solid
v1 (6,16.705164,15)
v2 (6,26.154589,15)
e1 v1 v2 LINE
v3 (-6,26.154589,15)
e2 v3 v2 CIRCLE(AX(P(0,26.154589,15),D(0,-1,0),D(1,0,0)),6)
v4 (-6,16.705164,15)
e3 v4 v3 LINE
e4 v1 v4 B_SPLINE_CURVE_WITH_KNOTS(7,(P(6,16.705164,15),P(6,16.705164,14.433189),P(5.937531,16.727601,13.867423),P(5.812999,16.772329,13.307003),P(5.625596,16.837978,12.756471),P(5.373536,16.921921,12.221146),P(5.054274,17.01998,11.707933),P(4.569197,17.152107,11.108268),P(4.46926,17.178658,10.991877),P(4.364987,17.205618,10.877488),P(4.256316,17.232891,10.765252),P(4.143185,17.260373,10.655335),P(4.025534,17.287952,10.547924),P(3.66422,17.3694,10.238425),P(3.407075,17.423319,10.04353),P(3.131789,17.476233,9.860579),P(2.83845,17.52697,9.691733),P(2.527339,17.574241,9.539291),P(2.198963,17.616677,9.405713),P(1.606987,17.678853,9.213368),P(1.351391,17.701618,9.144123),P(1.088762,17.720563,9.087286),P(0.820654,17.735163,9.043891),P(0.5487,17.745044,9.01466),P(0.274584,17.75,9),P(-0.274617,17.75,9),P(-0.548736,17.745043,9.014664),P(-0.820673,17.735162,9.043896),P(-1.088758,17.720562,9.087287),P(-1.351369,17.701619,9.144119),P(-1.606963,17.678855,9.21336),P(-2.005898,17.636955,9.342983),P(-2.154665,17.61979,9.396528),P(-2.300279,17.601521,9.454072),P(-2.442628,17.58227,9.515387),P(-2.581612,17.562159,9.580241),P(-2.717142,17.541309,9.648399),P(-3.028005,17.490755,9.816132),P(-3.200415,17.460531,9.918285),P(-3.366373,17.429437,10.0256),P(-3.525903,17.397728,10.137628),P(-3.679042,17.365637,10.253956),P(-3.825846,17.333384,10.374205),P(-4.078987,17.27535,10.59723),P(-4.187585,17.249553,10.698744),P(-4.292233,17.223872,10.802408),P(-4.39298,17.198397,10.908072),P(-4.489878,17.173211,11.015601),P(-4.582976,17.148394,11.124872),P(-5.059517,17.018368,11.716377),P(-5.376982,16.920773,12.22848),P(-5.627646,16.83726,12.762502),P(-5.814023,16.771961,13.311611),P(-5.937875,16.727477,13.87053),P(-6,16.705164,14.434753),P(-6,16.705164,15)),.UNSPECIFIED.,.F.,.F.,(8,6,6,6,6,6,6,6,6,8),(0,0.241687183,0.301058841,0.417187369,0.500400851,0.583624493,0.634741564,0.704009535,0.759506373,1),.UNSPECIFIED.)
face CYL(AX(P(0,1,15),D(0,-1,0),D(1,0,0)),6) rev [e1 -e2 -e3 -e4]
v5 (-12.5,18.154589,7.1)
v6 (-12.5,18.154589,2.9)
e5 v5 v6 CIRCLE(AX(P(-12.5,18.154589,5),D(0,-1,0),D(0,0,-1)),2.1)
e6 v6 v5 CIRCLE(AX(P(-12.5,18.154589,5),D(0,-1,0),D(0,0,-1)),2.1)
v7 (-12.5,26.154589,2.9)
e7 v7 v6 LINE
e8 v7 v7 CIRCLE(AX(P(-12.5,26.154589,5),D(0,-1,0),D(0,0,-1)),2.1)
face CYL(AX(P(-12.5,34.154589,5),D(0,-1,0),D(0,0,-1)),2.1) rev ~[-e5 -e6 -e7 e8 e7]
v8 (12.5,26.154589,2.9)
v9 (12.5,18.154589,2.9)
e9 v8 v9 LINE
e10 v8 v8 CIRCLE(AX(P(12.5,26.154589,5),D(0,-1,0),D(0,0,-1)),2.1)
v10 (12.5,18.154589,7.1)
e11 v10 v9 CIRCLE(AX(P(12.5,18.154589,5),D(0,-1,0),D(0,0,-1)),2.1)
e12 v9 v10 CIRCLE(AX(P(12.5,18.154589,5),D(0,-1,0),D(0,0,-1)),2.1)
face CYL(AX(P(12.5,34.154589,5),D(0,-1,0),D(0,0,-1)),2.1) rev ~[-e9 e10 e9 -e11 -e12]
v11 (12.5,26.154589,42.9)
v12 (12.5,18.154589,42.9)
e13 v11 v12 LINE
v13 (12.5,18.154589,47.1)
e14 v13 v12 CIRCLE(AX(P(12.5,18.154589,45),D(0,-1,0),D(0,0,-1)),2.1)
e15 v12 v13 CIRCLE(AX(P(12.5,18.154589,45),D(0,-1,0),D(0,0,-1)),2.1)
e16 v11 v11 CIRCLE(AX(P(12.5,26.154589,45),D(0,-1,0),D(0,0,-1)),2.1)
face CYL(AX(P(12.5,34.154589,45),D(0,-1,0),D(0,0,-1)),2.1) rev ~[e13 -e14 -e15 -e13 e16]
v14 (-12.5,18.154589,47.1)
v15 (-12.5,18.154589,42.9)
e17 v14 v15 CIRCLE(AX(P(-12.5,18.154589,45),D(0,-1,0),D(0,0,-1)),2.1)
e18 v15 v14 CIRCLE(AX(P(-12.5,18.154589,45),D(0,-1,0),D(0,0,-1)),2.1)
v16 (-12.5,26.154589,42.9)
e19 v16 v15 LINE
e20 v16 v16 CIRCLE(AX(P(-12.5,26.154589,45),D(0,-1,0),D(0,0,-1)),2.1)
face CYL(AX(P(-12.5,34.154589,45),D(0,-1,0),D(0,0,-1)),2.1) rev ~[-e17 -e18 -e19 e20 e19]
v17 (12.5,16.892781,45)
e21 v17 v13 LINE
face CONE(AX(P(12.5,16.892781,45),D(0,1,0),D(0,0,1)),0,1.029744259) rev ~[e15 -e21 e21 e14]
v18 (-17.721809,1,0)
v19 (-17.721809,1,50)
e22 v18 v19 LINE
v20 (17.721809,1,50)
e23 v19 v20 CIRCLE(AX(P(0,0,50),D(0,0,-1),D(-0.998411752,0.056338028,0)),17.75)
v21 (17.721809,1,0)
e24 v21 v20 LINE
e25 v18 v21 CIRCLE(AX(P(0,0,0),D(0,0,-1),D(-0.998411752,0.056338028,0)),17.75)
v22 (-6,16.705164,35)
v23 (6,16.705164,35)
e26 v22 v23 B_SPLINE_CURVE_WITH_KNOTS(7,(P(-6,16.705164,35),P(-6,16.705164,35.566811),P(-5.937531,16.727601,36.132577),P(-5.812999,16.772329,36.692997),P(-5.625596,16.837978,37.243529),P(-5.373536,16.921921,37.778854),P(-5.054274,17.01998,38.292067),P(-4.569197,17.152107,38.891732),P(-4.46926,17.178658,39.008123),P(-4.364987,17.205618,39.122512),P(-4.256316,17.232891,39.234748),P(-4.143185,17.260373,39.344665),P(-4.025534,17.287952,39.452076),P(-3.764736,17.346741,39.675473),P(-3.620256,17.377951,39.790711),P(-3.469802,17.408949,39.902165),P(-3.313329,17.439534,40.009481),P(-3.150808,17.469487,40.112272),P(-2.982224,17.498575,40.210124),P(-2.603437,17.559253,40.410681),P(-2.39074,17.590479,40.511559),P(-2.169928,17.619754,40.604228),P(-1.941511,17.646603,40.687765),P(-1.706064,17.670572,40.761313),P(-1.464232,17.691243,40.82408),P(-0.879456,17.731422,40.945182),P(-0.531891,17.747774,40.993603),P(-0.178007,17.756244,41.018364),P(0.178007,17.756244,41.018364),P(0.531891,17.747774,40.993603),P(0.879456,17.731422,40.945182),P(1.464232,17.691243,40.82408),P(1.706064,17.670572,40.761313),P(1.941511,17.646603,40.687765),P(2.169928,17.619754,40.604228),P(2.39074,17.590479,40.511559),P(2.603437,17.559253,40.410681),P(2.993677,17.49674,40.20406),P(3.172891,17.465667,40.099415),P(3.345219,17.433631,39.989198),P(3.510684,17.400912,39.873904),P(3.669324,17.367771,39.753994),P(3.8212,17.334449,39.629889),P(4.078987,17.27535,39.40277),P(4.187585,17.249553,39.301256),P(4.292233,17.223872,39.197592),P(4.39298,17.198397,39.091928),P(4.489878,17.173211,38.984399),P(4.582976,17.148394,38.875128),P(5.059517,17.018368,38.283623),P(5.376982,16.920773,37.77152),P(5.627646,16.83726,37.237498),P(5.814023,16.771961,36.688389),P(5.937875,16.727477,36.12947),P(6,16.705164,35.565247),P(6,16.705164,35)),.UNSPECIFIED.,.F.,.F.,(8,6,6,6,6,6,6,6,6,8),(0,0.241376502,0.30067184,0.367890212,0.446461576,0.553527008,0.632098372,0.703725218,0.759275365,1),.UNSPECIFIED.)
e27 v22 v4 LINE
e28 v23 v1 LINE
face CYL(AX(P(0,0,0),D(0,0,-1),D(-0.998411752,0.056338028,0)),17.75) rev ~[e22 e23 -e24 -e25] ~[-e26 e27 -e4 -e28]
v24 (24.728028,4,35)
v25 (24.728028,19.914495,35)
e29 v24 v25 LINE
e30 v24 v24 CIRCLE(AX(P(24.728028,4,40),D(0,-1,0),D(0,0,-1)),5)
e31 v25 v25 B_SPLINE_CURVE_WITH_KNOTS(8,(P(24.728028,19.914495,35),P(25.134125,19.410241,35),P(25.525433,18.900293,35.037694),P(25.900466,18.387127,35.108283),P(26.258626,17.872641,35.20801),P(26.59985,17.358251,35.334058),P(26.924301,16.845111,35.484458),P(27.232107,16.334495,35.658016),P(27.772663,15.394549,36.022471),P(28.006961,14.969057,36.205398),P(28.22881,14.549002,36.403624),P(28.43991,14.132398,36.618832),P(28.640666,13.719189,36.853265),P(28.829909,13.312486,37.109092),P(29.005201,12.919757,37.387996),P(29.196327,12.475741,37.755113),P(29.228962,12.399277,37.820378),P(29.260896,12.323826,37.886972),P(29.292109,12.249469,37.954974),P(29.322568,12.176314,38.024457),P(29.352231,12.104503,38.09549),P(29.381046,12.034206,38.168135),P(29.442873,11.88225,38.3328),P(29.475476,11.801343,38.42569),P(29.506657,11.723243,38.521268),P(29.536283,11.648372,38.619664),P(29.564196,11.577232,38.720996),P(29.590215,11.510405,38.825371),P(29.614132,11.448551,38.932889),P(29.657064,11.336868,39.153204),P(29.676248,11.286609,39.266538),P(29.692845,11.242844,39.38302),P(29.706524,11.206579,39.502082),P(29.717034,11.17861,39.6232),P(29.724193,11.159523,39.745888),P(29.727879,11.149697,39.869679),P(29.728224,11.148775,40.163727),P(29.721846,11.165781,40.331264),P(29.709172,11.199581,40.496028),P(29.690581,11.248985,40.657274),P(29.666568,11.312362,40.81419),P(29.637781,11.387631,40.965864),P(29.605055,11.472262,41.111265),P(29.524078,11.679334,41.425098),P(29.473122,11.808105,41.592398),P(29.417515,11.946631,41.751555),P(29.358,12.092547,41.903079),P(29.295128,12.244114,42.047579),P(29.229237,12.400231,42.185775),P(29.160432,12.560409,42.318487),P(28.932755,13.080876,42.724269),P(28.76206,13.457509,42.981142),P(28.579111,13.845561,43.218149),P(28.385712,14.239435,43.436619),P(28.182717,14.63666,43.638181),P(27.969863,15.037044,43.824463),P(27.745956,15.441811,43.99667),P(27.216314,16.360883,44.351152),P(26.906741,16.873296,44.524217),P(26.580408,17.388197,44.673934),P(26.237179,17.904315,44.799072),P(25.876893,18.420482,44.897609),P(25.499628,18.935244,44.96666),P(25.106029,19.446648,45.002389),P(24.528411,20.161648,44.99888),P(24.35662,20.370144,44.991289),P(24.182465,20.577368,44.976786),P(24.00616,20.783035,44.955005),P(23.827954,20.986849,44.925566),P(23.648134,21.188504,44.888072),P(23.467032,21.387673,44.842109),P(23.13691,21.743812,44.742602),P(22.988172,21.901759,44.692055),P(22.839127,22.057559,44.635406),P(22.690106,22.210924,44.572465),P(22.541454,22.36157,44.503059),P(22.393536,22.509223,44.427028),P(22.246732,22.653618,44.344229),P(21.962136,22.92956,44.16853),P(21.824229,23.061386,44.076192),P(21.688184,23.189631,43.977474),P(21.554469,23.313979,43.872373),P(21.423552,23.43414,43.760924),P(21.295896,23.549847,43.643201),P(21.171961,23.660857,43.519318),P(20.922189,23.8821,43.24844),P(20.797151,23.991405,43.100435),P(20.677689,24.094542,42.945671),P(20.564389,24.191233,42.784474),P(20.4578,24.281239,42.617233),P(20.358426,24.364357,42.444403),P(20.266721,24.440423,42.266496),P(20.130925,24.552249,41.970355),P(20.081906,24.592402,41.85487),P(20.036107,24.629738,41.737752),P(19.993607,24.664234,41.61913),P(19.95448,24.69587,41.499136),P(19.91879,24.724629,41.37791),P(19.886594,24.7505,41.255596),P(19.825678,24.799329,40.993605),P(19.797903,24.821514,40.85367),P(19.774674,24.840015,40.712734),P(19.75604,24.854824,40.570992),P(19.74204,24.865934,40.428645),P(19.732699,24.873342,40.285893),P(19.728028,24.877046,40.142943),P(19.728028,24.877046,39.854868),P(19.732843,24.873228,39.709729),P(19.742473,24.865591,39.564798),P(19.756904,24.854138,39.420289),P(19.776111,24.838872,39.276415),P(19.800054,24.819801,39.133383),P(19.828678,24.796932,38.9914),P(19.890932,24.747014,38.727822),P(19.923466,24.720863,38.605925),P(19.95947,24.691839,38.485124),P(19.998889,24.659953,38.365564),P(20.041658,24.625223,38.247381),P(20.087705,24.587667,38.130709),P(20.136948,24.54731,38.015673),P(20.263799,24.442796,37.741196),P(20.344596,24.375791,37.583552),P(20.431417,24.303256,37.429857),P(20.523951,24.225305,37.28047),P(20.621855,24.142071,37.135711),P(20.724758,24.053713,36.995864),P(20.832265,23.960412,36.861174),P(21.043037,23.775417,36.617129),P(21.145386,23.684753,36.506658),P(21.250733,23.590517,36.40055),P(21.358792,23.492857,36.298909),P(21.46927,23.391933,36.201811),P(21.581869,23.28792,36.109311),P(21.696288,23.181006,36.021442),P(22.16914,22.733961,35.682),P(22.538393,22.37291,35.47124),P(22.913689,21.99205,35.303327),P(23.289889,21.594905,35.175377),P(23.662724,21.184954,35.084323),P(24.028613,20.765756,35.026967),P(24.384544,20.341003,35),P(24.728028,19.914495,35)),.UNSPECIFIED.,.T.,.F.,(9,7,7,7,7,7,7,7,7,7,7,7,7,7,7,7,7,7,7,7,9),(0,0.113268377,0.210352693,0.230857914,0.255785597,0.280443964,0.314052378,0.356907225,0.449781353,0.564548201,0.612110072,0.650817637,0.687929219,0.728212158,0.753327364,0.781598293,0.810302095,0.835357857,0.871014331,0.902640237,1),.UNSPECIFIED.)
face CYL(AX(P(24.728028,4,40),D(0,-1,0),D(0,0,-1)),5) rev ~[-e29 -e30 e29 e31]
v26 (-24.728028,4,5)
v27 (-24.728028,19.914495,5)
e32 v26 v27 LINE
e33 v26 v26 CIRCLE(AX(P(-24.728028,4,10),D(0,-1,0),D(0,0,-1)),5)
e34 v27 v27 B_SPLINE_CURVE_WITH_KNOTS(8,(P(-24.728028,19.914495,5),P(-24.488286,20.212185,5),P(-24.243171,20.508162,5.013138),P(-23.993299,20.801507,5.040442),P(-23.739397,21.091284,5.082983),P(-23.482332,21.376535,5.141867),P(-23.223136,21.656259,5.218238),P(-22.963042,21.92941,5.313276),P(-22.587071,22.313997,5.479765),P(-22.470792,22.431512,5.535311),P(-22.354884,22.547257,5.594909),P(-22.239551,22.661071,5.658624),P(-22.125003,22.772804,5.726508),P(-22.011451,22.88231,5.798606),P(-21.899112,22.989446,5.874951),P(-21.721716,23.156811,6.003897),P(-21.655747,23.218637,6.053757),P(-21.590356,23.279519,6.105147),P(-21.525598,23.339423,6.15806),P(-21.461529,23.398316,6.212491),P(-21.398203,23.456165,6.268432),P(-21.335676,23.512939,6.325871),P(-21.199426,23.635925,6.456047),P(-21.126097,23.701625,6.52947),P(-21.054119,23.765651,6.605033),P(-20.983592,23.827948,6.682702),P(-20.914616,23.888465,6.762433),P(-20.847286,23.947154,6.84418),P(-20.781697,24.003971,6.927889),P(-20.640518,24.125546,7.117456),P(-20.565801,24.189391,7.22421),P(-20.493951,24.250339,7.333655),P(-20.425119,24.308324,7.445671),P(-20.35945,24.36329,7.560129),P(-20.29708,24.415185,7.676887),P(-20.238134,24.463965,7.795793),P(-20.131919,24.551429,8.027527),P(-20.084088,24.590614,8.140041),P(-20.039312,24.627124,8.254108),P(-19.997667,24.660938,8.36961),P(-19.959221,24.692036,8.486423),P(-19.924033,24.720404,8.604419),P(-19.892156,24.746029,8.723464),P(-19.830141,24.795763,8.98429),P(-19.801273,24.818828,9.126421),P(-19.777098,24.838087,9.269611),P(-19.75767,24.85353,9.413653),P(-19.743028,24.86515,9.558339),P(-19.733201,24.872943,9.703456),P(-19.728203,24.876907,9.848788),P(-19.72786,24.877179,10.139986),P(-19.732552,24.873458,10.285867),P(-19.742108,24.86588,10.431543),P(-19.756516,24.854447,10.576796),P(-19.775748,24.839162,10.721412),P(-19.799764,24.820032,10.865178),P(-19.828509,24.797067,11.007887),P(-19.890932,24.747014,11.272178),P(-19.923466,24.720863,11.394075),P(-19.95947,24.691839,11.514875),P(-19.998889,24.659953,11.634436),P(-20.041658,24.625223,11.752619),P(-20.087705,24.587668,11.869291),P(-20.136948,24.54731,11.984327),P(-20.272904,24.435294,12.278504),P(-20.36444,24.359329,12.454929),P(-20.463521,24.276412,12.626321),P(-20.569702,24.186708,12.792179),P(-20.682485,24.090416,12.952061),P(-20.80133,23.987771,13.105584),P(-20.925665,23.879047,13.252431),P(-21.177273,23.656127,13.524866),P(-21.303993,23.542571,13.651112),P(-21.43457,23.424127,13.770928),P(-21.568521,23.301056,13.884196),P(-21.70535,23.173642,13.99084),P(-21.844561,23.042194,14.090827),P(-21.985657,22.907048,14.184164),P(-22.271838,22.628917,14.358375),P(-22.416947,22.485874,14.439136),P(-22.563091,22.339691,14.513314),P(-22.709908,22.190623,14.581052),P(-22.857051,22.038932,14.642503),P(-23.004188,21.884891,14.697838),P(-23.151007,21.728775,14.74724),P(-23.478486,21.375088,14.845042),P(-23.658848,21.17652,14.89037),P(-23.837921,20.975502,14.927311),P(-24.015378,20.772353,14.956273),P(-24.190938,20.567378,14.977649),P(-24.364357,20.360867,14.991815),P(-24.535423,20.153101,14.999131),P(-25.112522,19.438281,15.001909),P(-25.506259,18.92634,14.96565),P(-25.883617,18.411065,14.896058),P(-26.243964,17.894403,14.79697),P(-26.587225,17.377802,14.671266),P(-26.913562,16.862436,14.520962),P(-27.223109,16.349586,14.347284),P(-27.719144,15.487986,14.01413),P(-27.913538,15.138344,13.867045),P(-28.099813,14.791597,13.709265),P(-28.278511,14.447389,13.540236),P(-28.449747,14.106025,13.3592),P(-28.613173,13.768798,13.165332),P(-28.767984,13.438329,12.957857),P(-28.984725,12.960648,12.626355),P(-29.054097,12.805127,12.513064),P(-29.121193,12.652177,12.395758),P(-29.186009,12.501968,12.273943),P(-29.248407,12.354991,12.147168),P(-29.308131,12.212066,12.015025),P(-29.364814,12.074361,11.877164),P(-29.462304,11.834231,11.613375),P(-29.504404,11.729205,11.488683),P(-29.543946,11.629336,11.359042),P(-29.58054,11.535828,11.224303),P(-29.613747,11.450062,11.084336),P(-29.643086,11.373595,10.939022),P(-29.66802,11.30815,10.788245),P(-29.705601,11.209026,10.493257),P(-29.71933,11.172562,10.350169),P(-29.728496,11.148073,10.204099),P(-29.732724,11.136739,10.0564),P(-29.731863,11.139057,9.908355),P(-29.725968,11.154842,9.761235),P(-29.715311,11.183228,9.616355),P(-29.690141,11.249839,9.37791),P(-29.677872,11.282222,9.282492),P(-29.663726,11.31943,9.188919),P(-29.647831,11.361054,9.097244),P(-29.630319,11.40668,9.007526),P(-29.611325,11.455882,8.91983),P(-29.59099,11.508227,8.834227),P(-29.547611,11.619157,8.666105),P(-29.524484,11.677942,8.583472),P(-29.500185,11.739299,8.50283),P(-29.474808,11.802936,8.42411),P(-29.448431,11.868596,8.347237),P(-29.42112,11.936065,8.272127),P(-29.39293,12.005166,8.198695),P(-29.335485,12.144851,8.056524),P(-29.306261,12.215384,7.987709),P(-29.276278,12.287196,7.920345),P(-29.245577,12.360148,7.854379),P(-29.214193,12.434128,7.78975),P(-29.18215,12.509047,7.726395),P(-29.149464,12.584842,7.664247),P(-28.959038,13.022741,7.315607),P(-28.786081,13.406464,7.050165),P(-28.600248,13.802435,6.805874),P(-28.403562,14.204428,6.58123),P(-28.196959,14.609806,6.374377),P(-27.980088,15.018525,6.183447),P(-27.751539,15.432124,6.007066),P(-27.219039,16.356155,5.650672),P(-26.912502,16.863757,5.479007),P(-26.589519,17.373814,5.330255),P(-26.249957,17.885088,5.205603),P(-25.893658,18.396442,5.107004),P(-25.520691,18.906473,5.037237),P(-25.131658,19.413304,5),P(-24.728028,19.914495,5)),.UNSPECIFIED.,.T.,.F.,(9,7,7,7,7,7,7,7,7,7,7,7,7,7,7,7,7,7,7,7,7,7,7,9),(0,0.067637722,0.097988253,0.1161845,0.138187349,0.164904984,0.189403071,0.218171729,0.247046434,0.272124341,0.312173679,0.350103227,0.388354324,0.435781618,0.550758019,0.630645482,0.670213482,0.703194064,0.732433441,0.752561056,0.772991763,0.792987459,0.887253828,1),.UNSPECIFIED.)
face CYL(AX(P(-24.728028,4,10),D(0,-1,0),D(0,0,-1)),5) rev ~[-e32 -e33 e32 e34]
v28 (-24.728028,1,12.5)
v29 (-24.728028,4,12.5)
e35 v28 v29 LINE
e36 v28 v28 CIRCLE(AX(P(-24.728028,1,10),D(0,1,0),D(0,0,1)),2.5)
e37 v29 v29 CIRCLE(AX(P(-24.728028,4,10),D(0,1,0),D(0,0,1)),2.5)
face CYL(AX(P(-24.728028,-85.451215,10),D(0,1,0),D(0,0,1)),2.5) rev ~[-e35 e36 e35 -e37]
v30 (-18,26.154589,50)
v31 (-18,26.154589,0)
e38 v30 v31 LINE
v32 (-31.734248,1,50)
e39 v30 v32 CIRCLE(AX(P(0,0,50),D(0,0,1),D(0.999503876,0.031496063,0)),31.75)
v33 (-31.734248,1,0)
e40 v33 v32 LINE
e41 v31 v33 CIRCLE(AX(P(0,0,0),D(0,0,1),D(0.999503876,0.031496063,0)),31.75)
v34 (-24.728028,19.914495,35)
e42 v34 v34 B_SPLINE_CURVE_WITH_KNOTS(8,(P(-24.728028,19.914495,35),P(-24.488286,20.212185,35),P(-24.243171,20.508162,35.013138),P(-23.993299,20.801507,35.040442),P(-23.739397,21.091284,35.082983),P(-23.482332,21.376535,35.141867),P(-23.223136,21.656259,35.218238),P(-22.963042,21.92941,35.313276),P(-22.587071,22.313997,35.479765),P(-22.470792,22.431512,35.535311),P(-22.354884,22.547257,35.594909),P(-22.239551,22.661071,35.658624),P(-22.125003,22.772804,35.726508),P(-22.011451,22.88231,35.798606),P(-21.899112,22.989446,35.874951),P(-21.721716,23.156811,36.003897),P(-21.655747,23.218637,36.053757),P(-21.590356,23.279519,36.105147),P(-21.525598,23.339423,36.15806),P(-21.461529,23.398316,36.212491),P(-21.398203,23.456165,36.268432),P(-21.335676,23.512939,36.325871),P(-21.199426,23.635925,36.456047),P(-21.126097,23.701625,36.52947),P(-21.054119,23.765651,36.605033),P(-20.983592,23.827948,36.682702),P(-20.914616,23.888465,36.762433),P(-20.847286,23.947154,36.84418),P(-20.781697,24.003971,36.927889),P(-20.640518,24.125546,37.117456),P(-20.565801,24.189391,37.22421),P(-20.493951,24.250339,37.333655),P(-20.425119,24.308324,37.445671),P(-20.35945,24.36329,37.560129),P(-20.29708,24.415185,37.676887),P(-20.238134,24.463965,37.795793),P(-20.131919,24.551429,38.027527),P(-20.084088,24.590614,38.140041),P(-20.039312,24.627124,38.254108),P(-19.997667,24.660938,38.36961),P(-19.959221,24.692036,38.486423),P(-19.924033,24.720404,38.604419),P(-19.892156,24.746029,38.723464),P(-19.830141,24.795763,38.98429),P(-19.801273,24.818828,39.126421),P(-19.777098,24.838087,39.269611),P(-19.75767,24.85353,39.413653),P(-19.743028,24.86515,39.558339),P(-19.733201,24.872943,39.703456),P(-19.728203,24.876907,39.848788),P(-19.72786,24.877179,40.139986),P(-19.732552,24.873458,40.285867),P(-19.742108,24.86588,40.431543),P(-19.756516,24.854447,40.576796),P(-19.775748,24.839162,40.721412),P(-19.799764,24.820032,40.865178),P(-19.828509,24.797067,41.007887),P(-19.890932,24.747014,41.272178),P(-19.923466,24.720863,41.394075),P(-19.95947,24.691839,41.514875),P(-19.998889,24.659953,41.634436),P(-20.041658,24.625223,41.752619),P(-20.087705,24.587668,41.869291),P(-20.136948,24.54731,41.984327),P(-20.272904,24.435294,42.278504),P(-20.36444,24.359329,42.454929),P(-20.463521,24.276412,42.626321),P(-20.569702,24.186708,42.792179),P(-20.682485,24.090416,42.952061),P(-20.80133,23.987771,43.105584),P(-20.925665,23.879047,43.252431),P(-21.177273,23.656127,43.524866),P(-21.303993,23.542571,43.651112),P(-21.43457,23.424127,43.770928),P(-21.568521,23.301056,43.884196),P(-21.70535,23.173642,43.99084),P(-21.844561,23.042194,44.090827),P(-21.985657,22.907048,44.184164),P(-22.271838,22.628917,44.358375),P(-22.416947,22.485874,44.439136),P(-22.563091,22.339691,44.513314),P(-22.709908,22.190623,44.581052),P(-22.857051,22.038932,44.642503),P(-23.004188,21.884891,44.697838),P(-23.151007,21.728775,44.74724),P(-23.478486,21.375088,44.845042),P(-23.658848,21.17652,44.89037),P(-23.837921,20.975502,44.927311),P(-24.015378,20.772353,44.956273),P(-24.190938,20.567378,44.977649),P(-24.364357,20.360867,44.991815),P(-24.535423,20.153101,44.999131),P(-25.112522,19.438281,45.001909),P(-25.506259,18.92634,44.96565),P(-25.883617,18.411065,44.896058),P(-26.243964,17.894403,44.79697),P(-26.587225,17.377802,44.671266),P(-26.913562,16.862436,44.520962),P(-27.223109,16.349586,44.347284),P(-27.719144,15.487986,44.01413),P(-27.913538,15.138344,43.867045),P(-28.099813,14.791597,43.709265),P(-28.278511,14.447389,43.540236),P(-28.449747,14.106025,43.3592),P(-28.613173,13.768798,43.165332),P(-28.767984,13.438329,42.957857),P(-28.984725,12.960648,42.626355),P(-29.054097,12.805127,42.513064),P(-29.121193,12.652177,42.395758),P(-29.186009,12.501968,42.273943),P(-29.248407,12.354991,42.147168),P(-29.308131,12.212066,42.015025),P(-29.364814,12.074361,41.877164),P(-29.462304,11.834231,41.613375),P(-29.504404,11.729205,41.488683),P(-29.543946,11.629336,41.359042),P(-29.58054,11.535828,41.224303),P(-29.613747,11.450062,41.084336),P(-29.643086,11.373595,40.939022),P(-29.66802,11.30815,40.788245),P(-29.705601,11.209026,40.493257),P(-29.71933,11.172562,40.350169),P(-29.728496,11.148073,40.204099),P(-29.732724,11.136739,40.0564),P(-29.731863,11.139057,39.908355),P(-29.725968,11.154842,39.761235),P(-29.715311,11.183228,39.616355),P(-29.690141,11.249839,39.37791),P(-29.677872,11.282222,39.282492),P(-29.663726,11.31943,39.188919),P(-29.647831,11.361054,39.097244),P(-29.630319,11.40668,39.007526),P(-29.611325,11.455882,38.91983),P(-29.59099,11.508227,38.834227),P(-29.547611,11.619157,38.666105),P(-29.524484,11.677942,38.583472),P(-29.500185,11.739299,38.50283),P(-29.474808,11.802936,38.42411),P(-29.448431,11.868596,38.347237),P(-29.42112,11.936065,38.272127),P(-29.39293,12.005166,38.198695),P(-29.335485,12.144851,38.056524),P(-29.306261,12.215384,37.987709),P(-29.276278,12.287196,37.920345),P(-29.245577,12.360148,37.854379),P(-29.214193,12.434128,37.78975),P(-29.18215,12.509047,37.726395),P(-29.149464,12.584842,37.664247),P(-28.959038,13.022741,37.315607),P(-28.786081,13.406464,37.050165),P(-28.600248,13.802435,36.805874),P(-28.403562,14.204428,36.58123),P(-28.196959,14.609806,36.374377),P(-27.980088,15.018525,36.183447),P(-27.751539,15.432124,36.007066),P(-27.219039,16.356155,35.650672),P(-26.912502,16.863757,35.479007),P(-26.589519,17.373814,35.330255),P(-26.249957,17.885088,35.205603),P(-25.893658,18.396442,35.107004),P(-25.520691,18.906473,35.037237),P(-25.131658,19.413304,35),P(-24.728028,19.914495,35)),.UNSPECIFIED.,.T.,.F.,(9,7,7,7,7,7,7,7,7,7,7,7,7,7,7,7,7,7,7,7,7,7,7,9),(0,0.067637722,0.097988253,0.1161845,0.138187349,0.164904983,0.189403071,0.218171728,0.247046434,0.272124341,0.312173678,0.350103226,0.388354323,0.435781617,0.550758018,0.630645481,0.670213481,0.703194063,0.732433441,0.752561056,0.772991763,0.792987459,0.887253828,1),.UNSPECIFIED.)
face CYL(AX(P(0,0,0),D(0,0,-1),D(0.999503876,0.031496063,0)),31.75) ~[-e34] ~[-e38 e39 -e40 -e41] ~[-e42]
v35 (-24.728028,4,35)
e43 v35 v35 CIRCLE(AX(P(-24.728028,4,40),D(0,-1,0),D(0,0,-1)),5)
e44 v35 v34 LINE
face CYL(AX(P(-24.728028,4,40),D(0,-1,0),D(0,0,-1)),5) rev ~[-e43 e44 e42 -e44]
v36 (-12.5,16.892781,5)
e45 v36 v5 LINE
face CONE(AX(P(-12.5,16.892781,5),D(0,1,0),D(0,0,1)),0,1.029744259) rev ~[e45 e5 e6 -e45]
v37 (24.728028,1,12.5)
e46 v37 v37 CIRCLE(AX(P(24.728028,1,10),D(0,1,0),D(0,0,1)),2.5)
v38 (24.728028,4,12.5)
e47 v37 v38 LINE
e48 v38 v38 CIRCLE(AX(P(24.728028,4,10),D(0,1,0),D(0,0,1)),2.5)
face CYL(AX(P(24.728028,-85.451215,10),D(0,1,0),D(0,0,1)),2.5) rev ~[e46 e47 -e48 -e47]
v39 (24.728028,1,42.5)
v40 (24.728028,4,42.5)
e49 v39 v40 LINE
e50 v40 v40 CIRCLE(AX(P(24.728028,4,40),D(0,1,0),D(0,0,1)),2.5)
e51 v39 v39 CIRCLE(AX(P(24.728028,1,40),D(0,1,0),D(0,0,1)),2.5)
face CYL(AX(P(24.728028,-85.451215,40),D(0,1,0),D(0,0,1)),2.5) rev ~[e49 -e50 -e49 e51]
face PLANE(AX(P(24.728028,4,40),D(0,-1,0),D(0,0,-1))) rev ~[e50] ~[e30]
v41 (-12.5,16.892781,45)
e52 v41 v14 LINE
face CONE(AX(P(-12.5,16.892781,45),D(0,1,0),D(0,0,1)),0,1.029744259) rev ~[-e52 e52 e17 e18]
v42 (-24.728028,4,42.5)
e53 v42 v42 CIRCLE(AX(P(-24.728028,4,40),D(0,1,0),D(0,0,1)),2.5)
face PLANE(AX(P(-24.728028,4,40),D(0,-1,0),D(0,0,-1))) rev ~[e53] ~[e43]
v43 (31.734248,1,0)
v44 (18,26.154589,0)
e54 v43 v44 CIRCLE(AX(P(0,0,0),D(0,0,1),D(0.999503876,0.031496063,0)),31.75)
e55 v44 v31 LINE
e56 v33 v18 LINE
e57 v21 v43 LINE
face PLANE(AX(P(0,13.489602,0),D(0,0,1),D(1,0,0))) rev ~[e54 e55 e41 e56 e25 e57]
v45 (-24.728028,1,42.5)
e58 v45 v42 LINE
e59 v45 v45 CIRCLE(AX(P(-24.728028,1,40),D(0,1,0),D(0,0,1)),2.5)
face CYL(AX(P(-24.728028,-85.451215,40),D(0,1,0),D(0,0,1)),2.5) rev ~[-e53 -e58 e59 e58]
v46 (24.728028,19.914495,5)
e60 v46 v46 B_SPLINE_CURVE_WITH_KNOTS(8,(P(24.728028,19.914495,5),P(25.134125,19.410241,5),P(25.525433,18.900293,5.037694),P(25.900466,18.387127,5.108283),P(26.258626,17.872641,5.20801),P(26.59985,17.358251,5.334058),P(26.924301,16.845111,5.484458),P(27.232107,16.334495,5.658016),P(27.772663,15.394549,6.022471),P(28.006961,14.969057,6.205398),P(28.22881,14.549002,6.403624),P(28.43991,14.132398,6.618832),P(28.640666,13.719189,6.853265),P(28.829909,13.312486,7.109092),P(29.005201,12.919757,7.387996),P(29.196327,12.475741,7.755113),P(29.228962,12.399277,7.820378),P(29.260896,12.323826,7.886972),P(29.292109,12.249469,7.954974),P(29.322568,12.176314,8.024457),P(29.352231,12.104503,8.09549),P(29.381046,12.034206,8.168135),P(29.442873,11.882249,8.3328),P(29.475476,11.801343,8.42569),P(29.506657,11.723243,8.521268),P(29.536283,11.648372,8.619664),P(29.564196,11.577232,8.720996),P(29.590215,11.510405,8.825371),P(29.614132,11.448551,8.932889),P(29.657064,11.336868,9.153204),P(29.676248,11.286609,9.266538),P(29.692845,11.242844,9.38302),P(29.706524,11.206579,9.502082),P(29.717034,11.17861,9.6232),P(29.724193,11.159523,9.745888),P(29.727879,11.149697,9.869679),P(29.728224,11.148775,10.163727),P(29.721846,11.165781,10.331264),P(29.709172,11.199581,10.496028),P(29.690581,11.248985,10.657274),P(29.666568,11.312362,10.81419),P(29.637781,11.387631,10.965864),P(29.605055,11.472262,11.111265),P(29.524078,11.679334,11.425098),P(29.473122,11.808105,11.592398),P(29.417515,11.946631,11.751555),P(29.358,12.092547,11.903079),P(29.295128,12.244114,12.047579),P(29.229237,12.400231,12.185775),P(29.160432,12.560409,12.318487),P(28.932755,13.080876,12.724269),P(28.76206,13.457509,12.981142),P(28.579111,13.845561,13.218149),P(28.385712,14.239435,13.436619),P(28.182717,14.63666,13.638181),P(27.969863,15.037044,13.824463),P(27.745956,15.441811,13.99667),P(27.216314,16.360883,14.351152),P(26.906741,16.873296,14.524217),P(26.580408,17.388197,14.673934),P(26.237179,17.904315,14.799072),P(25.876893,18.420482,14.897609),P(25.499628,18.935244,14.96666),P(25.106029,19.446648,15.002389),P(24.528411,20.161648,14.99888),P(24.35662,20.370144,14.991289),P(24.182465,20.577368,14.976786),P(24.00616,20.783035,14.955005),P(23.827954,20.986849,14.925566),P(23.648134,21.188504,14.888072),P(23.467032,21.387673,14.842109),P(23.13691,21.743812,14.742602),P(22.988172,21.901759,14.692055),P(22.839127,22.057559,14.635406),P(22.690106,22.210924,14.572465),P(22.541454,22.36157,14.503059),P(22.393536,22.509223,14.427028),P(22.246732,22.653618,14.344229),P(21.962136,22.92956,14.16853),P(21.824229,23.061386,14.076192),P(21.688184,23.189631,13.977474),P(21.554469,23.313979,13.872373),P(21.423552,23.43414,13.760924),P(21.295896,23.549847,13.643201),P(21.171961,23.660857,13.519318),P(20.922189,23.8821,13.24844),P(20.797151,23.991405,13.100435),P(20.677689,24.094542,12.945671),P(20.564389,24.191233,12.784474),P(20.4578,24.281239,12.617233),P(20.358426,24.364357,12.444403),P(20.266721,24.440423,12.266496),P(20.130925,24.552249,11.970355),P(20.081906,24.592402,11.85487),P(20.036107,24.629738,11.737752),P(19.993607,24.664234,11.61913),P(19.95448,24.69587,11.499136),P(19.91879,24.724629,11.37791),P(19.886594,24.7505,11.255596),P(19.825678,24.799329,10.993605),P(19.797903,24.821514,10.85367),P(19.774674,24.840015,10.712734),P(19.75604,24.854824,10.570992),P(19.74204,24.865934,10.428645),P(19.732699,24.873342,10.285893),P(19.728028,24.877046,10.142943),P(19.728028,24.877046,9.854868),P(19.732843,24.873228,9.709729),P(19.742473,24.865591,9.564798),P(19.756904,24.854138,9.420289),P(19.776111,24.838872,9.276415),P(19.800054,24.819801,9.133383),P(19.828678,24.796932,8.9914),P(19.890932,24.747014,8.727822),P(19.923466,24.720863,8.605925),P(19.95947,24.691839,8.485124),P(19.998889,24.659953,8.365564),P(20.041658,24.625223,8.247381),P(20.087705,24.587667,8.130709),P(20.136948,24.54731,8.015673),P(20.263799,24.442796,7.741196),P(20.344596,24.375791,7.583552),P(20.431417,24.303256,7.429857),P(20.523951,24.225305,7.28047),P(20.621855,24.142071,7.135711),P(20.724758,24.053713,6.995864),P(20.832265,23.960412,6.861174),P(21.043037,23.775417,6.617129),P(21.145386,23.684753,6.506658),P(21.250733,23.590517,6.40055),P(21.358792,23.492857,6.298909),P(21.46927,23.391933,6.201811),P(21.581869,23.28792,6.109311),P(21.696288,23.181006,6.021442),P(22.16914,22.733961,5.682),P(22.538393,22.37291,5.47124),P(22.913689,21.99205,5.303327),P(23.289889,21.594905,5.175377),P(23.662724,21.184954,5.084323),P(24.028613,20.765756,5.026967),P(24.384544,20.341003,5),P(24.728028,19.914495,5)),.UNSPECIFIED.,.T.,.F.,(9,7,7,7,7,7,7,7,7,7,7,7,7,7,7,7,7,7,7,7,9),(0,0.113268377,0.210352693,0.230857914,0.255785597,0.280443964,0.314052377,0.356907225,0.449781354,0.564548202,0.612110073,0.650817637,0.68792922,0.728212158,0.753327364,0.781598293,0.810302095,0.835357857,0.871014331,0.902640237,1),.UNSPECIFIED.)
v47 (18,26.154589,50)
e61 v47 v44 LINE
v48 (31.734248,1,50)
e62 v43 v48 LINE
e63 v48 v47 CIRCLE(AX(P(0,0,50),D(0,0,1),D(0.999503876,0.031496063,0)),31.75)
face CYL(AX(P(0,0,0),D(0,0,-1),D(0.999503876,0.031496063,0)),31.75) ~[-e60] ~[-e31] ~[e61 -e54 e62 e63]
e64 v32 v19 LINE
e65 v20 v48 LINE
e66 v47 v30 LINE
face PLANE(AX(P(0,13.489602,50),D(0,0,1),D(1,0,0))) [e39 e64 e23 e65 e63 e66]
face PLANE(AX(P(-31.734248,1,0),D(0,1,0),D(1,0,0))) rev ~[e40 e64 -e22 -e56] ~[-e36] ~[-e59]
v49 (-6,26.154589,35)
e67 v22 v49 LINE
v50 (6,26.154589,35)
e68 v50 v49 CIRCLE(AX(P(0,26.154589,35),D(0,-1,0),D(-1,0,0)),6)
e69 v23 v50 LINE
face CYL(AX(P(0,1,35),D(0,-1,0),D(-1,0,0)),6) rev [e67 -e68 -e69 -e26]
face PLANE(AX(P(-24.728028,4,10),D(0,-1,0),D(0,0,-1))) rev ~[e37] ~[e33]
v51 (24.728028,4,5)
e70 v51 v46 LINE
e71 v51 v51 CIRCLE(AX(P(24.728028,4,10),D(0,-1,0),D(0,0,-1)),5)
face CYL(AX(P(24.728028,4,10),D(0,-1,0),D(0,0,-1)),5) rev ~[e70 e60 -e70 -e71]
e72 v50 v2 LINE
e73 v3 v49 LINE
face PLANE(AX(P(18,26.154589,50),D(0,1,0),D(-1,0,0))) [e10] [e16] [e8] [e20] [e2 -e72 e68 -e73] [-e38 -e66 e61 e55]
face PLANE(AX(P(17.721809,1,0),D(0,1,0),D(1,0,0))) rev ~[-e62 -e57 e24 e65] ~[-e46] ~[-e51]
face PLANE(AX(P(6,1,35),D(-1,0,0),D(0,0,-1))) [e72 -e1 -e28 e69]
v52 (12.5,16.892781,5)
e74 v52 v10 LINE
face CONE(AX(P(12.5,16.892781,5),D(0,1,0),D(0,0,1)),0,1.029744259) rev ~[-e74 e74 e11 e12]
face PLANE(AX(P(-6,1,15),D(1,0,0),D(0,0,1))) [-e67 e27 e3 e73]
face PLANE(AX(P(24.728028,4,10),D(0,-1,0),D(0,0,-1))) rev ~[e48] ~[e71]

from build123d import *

# Parameters (mm, degrees)
BOSS_EXTRUDE1_DEPTH             = 50
F_5_0MM_CLEARANCE_DOWEL_HOLE1_D = 5
CUT_EXTRUDE1_REACH              = 67.4
CUT_EXTRUDE1_END_RADIUS         = 31.75
SKETCH4_R                       = 5
CUT_EXTRUDE2_REACH              = 68.728
CUT_EXTRUDE2_END_RADIUS         = 31.75
CUT_EXTRUDE3_DEPTH              = 68.19468002
TAP_DRILL_FOR_M5X0_8_TAP1_D     = 4.2
TAP_DRILL_FOR_M5X0_8_TAP1_DEPTH = 8
TAP_DRILL_FOR_M5X0_8_TAP1_TIP   = 1.2618073


with BuildPart() as part:
    # Sketch1 → Boss-Extrude1 (new body)
    with BuildSketch(Plane.XY):
        with BuildLine():
            Line((-31.734248061, 1), (-17.721808598, 1))
            ThreePointArc((-17.721808598, 1), (0, 17.75), (17.721808598, 1))
            Line((17.721808598, 1), (31.734248061, 1))
            ThreePointArc((31.734248061, 1), (0, 31.75), (-31.734248061, 1))
        make_face()
    extrude(amount=BOSS_EXTRUDE1_DEPTH)

    # Ø5.0mm Clearance Dowel Hole1 (through all)
    with Locations(Plane(origin=(-24.72802833, 1, 40), x_dir=(0, 0, -1), z_dir=(0, -1, 0))):
        with Locations((0, 0), (30, 0), (0, 49.45605666), (30, 49.45605666)):
            Hole(F_5_0MM_CLEARANCE_DOWEL_HOLE1_D / 2)

    # Cut-Extrude1: up to this cylinder (the profile starts inside it)
    cut_extrude1_end = Plane(origin=(0, 0, 25), z_dir=(0, 0, -1)) * Cylinder(CUT_EXTRUDE1_END_RADIUS, 229.3, mode=Mode.PRIVATE)
    # Sketch4 → Cut-Extrude1 (cut, up to the surface)
    with BuildSketch(Plane(origin=(0, 4, 0), x_dir=(-1, 0, 0), z_dir=(0, -1, 0)), mode=Mode.PRIVATE) as cut_extrude1_sk1:
        with Locations(Location((24.72802833, -40, 0), (0, 0, 90))):
            Circle(SKETCH4_R)
    cut_extrude1_tool1 = extrude(cut_extrude1_sk1.sketch, amount=-CUT_EXTRUDE1_REACH, mode=Mode.PRIVATE) & cut_extrude1_end
    add(cut_extrude1_tool1.solids().sort_by_distance((-24.728028, 4, 40))[0], mode=Mode.SUBTRACT)
    # Sketch4 → Cut-Extrude1 (cut, up to the surface)
    with BuildSketch(Plane(origin=(0, 4, 0), x_dir=(-1, 0, 0), z_dir=(0, -1, 0)), mode=Mode.PRIVATE) as cut_extrude1_sk2:
        with Locations(Location((24.72802833, -10, 0), (0, 0, 90))):
            Circle(SKETCH4_R)
    cut_extrude1_tool2 = extrude(cut_extrude1_sk2.sketch, amount=-CUT_EXTRUDE1_REACH, mode=Mode.PRIVATE) & cut_extrude1_end
    add(cut_extrude1_tool2.solids().sort_by_distance((-24.728028, 4, 10))[0], mode=Mode.SUBTRACT)
    # Sketch4 → Cut-Extrude1 (cut, up to the surface)
    with BuildSketch(Plane(origin=(0, 4, 0), x_dir=(-1, 0, 0), z_dir=(0, -1, 0)), mode=Mode.PRIVATE) as cut_extrude1_sk3:
        with Locations(Location((-24.72802833, -10, 0), (0, 0, 90))):
            Circle(SKETCH4_R)
    cut_extrude1_tool3 = extrude(cut_extrude1_sk3.sketch, amount=-CUT_EXTRUDE1_REACH, mode=Mode.PRIVATE) & cut_extrude1_end
    add(cut_extrude1_tool3.solids().sort_by_distance((24.728028, 4, 10))[0], mode=Mode.SUBTRACT)
    # Sketch4 → Cut-Extrude1 (cut, up to the surface)
    with BuildSketch(Plane(origin=(0, 4, 0), x_dir=(-1, 0, 0), z_dir=(0, -1, 0)), mode=Mode.PRIVATE) as cut_extrude1_sk4:
        with Locations(Location((-24.72802833, -40, 0), (0, 0, 90))):
            Circle(SKETCH4_R)
    cut_extrude1_tool4 = extrude(cut_extrude1_sk4.sketch, amount=-CUT_EXTRUDE1_REACH, mode=Mode.PRIVATE) & cut_extrude1_end
    add(cut_extrude1_tool4.solids().sort_by_distance((24.728028, 4, 40))[0], mode=Mode.SUBTRACT)

    # Cut-Extrude2: up to this cylinder (the profile starts inside it)
    cut_extrude2_end = Plane(origin=(0, 0, 25), z_dir=(0, 0, -1)) * Cylinder(CUT_EXTRUDE2_END_RADIUS, 201.956, mode=Mode.PRIVATE)
    # Sketch5 → Cut-Extrude2 (cut, up to the surface)
    with BuildSketch(Plane(origin=(0, 1, 0), x_dir=(-1, 0, 0), z_dir=(0, -1, 0)), mode=Mode.PRIVATE) as cut_extrude2_sk1:
        with BuildLine():
            Line((-6, -35), (-6, -15))
            ThreePointArc((-6, -15), (0, -9), (6, -15))
            Line((6, -15), (6, -35))
            ThreePointArc((6, -35), (0, -41), (-6, -35))
        make_face()
    cut_extrude2_tool1 = extrude(cut_extrude2_sk1.sketch, amount=-CUT_EXTRUDE2_REACH, mode=Mode.PRIVATE) & cut_extrude2_end
    add(cut_extrude2_tool1.solids().sort_by_distance((0, 1, 25))[0], mode=Mode.SUBTRACT)

    # Sketch6 → Cut-Extrude3 (cut, through all)
    with BuildSketch(Plane.XY.offset(50)):
        with BuildLine():
            Line((18, 26.154588508), (-18, 26.154588508))
            ThreePointArc((-18, 26.154588508), (0, 31.75), (18, 26.154588508))
        make_face()
    extrude(amount=-CUT_EXTRUDE3_DEPTH, mode=Mode.SUBTRACT)

    # Tap Drill for M5x0.8 Tap1
    with Locations(Plane(origin=(-12.5, 26.154588508, 5), x_dir=(0, 0, 1), z_dir=(0, 1, 0))):
        with Locations((0, 0), (40, 0), (40, 25), (0, 25)):
            Hole(TAP_DRILL_FOR_M5X0_8_TAP1_D / 2, depth=TAP_DRILL_FOR_M5X0_8_TAP1_DEPTH)
            with Locations((0, 0, -(TAP_DRILL_FOR_M5X0_8_TAP1_DEPTH + TAP_DRILL_FOR_M5X0_8_TAP1_TIP / 2))):  # 118° drill point
                Cone(0, TAP_DRILL_FOR_M5X0_8_TAP1_D / 2, TAP_DRILL_FOR_M5X0_8_TAP1_TIP, mode=Mode.SUBTRACT)


solid = part.part
